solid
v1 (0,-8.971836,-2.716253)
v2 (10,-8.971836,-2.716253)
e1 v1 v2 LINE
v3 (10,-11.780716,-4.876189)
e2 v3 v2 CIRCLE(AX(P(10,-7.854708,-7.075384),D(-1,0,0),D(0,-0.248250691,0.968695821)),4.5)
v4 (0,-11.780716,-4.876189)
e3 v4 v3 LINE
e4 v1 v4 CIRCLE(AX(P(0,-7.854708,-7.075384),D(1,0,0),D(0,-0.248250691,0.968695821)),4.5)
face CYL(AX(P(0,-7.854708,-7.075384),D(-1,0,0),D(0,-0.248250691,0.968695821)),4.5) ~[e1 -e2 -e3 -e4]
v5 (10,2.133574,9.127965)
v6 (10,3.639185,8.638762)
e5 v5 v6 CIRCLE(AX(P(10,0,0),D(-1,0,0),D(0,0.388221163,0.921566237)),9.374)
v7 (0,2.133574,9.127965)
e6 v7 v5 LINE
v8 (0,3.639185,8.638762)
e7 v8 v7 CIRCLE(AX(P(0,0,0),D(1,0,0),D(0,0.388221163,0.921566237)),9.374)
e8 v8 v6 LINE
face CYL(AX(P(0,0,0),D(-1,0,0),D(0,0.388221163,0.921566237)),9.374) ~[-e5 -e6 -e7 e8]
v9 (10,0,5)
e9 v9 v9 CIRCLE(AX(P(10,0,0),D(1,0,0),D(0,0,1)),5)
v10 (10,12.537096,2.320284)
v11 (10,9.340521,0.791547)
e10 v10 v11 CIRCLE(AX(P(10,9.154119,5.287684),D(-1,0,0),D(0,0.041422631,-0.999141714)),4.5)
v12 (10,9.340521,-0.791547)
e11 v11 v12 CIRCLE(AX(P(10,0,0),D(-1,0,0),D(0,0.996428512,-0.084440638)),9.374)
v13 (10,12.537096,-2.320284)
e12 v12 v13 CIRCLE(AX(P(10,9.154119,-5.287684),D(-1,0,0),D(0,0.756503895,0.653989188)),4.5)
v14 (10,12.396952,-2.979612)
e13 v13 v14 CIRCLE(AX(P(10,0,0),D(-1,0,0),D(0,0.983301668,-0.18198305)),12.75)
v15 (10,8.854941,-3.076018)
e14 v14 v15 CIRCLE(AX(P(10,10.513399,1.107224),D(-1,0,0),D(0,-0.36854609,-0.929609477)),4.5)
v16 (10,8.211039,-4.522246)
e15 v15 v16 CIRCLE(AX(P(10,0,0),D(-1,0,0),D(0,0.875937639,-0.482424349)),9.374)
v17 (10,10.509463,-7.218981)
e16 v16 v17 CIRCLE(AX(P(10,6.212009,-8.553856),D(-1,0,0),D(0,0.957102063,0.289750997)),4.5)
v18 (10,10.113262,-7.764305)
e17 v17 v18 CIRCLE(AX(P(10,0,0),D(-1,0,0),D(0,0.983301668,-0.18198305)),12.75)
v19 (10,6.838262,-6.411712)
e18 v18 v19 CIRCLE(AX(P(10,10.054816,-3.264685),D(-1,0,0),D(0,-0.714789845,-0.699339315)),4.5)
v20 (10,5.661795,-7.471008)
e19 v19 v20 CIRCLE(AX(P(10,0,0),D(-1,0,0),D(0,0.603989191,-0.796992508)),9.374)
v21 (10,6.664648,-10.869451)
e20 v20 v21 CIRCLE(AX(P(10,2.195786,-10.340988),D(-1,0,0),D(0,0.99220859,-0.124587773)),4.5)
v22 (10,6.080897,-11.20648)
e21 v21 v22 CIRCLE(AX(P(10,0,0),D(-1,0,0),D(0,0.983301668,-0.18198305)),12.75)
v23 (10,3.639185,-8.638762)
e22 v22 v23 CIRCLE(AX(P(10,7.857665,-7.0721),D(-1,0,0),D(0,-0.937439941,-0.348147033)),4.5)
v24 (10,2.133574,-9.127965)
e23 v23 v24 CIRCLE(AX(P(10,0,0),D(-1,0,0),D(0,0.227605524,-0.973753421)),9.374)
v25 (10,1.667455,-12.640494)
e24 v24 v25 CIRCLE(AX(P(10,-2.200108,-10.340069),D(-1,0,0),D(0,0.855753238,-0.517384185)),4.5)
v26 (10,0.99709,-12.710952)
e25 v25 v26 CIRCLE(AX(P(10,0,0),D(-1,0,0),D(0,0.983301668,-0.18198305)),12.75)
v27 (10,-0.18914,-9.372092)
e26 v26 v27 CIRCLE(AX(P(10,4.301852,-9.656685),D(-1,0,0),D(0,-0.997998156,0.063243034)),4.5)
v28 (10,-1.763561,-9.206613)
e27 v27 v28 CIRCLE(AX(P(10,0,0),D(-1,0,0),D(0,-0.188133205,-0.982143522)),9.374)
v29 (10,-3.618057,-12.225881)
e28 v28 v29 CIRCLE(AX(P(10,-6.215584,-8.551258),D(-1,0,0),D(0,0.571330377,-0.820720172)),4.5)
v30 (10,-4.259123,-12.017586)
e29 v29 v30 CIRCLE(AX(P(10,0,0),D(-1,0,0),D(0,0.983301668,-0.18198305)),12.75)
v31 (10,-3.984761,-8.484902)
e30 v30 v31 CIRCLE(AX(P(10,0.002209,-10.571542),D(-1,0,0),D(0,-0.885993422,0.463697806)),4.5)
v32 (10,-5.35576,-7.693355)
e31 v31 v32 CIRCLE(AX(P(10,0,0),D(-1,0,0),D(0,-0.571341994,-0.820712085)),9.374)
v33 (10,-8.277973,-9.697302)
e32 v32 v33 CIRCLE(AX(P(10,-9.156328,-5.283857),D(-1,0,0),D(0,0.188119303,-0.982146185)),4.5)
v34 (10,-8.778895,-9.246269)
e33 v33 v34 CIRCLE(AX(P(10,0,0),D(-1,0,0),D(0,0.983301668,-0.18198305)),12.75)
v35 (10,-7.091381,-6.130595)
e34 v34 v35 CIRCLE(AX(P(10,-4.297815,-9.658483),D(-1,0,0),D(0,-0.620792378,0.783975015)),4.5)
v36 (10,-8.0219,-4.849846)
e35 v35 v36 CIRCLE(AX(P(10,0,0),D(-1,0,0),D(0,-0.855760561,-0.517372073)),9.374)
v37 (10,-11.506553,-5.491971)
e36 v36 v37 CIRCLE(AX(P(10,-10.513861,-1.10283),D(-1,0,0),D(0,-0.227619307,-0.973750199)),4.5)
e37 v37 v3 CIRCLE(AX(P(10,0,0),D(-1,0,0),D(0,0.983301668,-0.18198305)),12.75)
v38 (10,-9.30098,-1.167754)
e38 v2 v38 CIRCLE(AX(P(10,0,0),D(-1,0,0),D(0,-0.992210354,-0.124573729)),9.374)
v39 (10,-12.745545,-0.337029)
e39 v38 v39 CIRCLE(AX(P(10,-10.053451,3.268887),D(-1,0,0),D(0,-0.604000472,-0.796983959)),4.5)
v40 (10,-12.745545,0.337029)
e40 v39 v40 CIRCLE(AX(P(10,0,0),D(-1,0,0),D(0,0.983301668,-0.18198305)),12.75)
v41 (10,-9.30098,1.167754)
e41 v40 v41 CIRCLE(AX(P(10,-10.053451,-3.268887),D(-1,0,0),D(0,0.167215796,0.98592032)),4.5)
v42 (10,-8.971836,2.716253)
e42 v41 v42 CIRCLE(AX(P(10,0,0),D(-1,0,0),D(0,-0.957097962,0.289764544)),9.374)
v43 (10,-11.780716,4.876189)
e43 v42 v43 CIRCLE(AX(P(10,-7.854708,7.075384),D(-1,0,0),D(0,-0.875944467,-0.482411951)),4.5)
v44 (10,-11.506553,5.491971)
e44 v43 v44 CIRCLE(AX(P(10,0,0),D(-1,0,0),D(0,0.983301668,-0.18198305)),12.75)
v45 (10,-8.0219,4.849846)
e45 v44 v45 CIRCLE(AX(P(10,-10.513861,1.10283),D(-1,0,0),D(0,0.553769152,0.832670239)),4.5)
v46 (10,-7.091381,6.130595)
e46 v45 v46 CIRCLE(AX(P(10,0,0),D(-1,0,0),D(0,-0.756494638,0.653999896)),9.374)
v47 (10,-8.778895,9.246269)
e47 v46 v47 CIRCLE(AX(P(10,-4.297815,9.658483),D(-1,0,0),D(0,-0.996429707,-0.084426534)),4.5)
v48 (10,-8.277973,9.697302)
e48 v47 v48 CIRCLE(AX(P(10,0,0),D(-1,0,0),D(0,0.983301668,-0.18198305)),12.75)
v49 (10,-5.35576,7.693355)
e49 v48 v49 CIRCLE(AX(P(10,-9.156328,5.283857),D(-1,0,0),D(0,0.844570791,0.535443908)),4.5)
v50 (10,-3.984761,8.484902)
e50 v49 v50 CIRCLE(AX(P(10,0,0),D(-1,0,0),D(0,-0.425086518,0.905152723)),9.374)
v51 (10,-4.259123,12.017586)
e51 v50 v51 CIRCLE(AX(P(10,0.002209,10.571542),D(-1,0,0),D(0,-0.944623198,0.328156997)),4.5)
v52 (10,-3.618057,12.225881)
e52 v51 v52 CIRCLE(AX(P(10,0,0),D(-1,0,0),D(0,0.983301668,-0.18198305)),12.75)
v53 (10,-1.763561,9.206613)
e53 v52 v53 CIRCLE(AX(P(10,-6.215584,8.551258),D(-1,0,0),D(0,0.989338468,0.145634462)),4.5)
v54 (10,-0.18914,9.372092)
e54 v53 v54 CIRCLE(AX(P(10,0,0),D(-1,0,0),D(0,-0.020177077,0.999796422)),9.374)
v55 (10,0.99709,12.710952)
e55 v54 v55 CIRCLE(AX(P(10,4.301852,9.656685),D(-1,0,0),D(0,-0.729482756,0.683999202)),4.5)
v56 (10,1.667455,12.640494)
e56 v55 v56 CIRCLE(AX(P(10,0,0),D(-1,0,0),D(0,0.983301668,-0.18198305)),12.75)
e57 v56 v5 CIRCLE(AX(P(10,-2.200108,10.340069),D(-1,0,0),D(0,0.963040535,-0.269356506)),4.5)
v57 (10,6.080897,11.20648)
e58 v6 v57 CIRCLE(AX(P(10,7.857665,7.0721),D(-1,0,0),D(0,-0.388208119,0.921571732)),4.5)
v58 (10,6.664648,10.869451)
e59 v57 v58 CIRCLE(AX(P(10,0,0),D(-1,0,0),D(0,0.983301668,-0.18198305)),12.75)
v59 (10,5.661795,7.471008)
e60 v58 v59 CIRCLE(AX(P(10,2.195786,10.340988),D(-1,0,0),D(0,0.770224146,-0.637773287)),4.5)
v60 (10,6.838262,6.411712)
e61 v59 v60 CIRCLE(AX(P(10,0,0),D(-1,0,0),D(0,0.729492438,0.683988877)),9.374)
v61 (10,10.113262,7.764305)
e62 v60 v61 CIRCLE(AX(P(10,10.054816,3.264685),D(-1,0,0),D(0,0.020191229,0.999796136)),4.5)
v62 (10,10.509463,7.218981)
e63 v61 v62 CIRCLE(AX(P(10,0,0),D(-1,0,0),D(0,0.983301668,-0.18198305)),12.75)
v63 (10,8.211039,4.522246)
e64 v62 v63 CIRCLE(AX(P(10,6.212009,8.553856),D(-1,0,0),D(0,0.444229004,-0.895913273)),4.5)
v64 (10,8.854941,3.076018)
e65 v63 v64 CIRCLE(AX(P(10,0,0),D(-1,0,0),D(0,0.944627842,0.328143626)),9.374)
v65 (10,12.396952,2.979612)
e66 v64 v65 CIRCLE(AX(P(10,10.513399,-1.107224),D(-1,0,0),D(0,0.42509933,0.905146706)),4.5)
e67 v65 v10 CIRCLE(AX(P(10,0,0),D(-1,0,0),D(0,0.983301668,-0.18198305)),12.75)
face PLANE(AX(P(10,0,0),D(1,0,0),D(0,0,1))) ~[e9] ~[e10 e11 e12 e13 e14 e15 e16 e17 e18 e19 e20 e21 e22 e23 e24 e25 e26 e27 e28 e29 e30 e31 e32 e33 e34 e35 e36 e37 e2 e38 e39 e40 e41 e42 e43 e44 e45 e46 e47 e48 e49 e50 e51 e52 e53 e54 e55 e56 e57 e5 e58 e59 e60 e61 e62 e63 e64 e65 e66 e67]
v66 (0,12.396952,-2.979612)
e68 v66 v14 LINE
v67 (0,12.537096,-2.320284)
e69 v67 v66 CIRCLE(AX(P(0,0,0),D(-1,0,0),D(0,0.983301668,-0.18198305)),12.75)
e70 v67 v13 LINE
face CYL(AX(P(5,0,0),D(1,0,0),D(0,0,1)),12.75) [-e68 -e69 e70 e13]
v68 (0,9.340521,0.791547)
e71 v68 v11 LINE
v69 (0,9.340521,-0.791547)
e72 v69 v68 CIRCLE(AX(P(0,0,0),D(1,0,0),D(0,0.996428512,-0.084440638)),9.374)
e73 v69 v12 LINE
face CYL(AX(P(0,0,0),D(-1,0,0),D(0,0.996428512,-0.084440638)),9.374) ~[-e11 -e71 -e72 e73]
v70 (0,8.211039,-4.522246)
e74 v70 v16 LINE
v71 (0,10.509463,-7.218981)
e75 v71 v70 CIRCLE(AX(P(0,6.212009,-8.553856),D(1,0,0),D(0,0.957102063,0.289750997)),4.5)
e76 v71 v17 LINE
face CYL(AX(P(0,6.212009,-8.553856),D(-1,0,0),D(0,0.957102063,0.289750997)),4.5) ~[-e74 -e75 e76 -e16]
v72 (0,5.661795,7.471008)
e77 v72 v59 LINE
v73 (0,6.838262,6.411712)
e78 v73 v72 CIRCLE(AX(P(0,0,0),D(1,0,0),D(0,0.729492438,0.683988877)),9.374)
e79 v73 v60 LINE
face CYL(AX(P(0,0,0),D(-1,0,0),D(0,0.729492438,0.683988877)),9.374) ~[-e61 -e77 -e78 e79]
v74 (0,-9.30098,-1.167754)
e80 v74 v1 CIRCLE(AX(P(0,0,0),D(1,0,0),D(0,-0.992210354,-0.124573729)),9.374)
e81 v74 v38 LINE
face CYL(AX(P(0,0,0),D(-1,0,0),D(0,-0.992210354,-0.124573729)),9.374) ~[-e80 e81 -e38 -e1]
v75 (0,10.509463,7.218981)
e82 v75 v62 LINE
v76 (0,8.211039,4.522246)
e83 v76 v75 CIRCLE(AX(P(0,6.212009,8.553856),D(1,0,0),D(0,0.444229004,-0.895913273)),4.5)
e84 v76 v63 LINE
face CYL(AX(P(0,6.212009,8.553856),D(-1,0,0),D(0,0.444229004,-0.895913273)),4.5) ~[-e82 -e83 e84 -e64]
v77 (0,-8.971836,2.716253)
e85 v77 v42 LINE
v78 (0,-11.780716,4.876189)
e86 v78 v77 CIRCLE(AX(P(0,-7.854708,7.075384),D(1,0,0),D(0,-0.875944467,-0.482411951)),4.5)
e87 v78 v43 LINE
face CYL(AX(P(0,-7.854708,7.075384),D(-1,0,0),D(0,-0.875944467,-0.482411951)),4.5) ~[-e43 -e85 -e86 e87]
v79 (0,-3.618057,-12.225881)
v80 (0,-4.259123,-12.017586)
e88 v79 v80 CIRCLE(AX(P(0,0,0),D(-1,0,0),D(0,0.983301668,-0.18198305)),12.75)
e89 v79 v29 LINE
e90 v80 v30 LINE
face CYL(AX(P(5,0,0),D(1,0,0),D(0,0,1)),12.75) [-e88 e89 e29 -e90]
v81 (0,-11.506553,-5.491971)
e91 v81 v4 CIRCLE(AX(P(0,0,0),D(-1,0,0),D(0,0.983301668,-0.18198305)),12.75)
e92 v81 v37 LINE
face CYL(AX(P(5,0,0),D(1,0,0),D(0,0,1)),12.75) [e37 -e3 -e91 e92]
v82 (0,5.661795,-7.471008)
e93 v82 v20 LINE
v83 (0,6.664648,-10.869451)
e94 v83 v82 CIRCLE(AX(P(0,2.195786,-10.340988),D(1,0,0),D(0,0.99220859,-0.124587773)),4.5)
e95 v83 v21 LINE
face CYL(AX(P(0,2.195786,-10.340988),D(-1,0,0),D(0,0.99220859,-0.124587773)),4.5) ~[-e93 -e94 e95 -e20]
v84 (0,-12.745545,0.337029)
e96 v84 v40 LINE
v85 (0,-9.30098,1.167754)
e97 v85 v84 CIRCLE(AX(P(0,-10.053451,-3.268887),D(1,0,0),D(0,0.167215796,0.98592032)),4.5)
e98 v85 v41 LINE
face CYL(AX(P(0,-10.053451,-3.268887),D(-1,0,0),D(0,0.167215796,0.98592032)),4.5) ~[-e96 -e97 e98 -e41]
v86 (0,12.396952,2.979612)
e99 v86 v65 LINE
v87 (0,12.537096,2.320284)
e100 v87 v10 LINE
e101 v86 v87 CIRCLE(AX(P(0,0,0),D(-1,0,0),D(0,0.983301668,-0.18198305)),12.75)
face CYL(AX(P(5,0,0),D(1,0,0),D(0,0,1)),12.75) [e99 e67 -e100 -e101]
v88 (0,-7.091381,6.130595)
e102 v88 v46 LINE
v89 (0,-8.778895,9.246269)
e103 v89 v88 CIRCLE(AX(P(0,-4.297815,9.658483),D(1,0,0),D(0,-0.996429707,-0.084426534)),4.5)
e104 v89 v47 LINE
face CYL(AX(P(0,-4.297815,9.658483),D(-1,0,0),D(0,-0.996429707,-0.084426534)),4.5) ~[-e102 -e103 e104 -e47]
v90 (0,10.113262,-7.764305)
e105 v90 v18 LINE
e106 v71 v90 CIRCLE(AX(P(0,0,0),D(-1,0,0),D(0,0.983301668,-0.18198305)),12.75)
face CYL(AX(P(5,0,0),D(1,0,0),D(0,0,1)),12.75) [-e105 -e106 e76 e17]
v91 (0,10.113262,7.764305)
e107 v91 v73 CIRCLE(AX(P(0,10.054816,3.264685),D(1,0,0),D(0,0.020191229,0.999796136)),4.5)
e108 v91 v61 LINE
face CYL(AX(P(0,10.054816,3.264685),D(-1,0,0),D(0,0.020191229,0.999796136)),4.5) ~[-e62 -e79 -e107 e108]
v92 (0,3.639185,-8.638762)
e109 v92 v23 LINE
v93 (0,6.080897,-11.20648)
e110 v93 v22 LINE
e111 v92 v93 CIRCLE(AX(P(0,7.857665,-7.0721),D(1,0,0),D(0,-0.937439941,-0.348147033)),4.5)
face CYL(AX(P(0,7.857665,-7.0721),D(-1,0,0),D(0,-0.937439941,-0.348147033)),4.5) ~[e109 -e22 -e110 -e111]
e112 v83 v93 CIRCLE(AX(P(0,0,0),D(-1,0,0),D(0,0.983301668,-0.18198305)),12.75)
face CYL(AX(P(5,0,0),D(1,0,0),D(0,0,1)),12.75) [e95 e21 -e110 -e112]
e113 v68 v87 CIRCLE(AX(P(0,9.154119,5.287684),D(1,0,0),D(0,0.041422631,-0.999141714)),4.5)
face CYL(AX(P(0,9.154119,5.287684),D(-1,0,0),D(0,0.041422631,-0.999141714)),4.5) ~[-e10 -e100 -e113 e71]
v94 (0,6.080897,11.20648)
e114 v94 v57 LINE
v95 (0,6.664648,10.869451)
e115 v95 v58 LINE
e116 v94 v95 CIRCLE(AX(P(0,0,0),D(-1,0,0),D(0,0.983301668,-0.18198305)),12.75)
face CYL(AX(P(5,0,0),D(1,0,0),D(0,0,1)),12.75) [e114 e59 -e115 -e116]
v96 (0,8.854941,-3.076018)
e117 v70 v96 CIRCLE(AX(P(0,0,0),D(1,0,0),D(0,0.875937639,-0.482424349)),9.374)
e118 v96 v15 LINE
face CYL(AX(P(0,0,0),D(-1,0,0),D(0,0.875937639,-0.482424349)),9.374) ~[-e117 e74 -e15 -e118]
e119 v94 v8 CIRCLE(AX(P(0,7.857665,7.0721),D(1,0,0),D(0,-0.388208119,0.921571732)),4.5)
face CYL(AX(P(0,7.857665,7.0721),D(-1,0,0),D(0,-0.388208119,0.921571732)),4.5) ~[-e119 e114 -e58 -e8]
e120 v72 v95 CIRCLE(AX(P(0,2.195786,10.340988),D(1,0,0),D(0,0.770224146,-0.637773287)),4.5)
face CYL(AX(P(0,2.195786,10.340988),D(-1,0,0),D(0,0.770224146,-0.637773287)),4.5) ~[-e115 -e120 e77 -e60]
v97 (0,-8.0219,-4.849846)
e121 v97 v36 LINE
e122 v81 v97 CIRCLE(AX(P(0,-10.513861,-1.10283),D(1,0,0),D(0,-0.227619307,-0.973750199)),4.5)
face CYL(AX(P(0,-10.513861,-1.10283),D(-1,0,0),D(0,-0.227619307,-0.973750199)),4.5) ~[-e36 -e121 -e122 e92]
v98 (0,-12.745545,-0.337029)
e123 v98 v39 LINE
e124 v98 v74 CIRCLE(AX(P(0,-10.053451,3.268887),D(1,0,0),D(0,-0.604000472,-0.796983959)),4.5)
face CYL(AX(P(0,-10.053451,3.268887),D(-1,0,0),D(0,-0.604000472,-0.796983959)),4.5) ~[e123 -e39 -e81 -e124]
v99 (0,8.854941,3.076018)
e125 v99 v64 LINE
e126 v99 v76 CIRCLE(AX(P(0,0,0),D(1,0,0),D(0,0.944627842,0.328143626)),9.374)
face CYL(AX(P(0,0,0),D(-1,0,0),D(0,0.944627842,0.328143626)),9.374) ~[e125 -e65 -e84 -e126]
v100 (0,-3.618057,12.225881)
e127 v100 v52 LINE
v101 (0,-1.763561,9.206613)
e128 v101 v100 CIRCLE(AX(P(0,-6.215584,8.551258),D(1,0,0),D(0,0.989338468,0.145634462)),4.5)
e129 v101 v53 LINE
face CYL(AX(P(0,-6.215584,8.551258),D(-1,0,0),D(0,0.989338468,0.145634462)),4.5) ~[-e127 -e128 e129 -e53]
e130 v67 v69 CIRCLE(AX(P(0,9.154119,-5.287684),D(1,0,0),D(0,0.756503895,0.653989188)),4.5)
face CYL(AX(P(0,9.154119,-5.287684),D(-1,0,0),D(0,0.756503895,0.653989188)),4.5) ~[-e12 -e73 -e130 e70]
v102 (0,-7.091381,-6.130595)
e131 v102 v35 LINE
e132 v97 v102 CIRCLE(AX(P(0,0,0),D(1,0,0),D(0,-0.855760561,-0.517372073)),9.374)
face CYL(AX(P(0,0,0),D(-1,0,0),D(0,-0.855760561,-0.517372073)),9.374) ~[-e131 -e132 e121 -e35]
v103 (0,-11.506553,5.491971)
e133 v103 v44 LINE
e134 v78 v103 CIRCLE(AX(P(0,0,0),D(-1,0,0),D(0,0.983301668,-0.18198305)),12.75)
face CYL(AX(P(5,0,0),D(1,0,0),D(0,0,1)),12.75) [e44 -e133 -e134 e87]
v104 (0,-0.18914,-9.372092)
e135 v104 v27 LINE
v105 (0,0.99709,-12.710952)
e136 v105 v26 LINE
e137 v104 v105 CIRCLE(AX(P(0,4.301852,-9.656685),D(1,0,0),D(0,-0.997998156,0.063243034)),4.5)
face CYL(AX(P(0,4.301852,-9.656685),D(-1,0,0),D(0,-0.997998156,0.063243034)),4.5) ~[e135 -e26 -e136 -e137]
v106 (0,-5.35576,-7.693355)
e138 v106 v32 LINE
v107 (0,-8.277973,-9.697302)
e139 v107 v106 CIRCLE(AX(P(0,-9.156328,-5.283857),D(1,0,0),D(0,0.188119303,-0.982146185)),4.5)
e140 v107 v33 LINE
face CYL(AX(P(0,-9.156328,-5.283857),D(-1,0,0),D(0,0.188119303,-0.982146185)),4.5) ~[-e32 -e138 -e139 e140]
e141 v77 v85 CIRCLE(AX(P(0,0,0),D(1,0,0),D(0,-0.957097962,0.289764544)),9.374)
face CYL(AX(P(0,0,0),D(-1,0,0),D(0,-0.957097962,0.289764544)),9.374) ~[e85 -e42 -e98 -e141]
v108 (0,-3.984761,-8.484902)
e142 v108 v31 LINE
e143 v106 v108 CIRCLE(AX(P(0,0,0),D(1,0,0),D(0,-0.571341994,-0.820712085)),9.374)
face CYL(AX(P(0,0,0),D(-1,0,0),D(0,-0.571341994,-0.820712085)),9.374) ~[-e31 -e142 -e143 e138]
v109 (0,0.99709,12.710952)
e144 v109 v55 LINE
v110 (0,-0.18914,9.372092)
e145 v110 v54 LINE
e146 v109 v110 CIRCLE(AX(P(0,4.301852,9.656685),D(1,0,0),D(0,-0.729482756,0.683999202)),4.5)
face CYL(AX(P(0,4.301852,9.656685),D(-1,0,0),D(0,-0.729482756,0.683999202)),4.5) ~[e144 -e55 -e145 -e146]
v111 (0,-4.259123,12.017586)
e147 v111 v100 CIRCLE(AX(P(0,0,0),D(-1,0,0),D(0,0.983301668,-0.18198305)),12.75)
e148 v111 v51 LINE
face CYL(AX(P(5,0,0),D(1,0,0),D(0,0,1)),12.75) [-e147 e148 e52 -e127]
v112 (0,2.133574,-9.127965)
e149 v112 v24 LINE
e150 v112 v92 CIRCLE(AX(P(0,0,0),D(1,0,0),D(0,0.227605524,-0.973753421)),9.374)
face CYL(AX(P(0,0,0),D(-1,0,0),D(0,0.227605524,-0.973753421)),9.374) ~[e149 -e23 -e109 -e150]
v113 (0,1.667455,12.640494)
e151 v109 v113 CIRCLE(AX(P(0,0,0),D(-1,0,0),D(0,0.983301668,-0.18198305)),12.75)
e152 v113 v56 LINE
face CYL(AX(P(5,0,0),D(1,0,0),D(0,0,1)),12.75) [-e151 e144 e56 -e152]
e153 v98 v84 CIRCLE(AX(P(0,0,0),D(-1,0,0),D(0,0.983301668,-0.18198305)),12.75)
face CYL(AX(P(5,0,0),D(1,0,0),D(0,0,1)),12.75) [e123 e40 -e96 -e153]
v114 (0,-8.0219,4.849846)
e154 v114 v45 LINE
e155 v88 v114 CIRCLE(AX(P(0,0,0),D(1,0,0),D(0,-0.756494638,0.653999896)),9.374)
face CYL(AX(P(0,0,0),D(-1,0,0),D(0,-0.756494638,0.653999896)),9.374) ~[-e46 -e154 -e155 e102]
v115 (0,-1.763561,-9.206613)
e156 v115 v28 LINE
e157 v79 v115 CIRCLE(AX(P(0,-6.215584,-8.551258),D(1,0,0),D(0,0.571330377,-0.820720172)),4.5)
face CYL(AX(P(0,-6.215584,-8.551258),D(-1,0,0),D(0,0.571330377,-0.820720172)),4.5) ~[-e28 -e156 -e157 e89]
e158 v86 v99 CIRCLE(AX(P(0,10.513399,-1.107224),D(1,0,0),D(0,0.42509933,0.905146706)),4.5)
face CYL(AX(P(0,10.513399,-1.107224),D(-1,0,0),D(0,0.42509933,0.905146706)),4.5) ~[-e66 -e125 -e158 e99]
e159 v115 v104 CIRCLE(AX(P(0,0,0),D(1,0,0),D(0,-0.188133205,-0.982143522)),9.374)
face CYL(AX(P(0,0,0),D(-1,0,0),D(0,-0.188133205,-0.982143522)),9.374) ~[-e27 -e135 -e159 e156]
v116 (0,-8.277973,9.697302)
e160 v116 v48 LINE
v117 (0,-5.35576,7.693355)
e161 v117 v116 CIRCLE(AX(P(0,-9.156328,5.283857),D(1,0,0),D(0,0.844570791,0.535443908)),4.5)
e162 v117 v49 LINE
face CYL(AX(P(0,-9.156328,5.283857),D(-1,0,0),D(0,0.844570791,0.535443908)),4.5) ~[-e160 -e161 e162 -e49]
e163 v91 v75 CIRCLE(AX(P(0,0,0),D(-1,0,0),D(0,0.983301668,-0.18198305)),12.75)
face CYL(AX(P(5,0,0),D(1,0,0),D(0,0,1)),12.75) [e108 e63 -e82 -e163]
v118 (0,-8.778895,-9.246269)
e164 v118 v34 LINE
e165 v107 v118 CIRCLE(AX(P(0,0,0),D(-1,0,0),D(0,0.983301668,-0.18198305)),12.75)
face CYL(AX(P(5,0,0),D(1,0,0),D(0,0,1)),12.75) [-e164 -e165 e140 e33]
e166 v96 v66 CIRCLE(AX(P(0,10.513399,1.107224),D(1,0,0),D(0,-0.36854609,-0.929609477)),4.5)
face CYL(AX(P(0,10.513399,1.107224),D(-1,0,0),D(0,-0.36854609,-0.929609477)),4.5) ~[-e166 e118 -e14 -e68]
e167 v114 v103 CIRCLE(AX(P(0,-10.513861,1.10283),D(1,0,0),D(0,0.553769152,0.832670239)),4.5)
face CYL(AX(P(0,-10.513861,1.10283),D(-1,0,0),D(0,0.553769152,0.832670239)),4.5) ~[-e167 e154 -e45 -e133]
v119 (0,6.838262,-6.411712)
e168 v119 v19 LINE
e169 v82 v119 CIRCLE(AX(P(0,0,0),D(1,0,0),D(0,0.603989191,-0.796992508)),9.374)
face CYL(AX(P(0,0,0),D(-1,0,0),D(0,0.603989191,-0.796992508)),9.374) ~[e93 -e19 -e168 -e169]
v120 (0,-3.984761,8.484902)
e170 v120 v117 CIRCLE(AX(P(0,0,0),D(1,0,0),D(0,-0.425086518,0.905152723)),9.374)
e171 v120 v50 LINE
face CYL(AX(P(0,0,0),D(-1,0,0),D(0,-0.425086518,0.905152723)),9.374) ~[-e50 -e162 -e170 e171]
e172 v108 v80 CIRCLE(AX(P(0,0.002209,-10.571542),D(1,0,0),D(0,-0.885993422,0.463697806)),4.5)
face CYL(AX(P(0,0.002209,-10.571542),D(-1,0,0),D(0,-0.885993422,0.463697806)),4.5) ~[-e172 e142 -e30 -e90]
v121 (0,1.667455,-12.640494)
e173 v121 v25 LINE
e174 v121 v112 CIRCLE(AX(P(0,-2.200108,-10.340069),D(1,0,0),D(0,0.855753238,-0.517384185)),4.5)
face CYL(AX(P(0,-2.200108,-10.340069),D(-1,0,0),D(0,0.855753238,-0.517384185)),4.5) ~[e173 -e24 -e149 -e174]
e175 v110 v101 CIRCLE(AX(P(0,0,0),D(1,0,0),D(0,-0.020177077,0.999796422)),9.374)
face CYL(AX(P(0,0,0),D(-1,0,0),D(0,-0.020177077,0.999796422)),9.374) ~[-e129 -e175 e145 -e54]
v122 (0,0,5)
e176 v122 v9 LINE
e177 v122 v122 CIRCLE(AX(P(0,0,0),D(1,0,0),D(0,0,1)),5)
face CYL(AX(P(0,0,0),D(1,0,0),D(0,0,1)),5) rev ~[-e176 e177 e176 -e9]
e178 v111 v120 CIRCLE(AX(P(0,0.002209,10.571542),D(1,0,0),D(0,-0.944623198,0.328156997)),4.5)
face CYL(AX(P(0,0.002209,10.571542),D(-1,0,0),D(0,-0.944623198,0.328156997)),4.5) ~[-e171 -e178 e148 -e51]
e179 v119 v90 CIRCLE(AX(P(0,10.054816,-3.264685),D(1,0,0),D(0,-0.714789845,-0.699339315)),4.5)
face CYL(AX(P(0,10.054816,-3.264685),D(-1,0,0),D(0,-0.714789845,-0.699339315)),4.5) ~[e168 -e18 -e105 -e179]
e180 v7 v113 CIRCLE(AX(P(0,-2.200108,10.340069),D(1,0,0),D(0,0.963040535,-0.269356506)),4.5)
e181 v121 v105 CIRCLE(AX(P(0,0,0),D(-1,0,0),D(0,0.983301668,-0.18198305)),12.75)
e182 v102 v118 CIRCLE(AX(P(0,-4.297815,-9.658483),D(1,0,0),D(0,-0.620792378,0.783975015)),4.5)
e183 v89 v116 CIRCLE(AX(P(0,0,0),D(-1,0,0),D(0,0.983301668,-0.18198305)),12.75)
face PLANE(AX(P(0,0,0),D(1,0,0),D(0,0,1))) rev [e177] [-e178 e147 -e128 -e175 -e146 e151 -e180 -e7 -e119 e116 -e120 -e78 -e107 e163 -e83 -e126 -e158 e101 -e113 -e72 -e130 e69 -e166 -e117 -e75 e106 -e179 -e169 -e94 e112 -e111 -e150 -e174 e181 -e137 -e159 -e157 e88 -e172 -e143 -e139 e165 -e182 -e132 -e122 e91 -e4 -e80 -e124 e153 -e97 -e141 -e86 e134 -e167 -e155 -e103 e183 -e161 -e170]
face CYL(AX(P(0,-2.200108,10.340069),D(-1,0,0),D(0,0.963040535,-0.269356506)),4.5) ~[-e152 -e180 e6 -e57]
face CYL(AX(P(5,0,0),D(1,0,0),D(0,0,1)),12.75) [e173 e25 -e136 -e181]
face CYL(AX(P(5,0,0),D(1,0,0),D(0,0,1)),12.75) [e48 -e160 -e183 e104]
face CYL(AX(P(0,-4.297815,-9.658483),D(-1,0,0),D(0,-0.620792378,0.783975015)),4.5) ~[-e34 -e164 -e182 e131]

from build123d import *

# Parameters (mm, degrees)
BASPROSKE_W     = 10
BASPROSKE_H     = 12.75
TOOTHCUT_DEPTH  = 21.618559601
TEETHCUTS_COUNT = 15
TEETHCUTS_ANGLE = 336
BORSKE_R        = 5
BORE_DEPTH      = 50.0000508


with BuildPart() as part:
    # BasProSke → Base-Revolve (revolve)
    with BuildSketch(Plane(origin=(0, 0, 0), x_dir=(1, 0, 0), z_dir=(0, 1, 0)), mode=Mode.PRIVATE) as base_revolve_sk:
        with Locations((5, 6.375)):
            Rectangle(BASPROSKE_W, BASPROSKE_H)
    revolve(base_revolve_sk.sketch.rotate(Axis((-10, 0, 0), (1, 0, 0)), 180), axis=Axis((-10, 0, 0), (1, 0, 0)))

    # TooCutSke → ToothCut (cut, through all)
    with BuildSketch(Plane(origin=(0, 0, 0), x_dir=(0, 0, -1), z_dir=(1, 0, 0))):
        with BuildLine():
            ThreePointArc((0.791546546, 9.340520867), (0, 9.374), (-0.791546546, 9.340520867))
            ThreePointArc((-0.791546546, 9.340520867), (-1.235070734, 11.110218102), (-2.344732916, 12.558386549))
            ThreePointArc((-2.344732916, 12.558386549), (0, 12.7754), (2.344732916, 12.558386549))
            ThreePointArc((2.344732916, 12.558386549), (1.235070734, 11.110218102), (0.791546546, 9.340520867))
        make_face()
    toothcut = extrude(amount=TOOTHCUT_DEPTH, mode=Mode.SUBTRACT)

    # TeethCuts: ToothCut ×15 about axis
    teethcuts_axis = Axis((-10, 0, 0), (1, 0, 0))
    for i in range(1, TEETHCUTS_COUNT):
        add(toothcut.rotate(teethcuts_axis, i * TEETHCUTS_ANGLE / (TEETHCUTS_COUNT - 1)), mode=Mode.SUBTRACT)

    # BorSke → Bore (cut, symmetric)
    with BuildSketch(Plane(origin=(0, 0, 0), x_dir=(0, 0, -1), z_dir=(1, 0, 0))):
        with Locations(Location((0, 0, 0), (0, 0, 180))):
            Circle(BORSKE_R)
    extrude(amount=BORE_DEPTH, both=True, mode=Mode.SUBTRACT)


solid = part.part
